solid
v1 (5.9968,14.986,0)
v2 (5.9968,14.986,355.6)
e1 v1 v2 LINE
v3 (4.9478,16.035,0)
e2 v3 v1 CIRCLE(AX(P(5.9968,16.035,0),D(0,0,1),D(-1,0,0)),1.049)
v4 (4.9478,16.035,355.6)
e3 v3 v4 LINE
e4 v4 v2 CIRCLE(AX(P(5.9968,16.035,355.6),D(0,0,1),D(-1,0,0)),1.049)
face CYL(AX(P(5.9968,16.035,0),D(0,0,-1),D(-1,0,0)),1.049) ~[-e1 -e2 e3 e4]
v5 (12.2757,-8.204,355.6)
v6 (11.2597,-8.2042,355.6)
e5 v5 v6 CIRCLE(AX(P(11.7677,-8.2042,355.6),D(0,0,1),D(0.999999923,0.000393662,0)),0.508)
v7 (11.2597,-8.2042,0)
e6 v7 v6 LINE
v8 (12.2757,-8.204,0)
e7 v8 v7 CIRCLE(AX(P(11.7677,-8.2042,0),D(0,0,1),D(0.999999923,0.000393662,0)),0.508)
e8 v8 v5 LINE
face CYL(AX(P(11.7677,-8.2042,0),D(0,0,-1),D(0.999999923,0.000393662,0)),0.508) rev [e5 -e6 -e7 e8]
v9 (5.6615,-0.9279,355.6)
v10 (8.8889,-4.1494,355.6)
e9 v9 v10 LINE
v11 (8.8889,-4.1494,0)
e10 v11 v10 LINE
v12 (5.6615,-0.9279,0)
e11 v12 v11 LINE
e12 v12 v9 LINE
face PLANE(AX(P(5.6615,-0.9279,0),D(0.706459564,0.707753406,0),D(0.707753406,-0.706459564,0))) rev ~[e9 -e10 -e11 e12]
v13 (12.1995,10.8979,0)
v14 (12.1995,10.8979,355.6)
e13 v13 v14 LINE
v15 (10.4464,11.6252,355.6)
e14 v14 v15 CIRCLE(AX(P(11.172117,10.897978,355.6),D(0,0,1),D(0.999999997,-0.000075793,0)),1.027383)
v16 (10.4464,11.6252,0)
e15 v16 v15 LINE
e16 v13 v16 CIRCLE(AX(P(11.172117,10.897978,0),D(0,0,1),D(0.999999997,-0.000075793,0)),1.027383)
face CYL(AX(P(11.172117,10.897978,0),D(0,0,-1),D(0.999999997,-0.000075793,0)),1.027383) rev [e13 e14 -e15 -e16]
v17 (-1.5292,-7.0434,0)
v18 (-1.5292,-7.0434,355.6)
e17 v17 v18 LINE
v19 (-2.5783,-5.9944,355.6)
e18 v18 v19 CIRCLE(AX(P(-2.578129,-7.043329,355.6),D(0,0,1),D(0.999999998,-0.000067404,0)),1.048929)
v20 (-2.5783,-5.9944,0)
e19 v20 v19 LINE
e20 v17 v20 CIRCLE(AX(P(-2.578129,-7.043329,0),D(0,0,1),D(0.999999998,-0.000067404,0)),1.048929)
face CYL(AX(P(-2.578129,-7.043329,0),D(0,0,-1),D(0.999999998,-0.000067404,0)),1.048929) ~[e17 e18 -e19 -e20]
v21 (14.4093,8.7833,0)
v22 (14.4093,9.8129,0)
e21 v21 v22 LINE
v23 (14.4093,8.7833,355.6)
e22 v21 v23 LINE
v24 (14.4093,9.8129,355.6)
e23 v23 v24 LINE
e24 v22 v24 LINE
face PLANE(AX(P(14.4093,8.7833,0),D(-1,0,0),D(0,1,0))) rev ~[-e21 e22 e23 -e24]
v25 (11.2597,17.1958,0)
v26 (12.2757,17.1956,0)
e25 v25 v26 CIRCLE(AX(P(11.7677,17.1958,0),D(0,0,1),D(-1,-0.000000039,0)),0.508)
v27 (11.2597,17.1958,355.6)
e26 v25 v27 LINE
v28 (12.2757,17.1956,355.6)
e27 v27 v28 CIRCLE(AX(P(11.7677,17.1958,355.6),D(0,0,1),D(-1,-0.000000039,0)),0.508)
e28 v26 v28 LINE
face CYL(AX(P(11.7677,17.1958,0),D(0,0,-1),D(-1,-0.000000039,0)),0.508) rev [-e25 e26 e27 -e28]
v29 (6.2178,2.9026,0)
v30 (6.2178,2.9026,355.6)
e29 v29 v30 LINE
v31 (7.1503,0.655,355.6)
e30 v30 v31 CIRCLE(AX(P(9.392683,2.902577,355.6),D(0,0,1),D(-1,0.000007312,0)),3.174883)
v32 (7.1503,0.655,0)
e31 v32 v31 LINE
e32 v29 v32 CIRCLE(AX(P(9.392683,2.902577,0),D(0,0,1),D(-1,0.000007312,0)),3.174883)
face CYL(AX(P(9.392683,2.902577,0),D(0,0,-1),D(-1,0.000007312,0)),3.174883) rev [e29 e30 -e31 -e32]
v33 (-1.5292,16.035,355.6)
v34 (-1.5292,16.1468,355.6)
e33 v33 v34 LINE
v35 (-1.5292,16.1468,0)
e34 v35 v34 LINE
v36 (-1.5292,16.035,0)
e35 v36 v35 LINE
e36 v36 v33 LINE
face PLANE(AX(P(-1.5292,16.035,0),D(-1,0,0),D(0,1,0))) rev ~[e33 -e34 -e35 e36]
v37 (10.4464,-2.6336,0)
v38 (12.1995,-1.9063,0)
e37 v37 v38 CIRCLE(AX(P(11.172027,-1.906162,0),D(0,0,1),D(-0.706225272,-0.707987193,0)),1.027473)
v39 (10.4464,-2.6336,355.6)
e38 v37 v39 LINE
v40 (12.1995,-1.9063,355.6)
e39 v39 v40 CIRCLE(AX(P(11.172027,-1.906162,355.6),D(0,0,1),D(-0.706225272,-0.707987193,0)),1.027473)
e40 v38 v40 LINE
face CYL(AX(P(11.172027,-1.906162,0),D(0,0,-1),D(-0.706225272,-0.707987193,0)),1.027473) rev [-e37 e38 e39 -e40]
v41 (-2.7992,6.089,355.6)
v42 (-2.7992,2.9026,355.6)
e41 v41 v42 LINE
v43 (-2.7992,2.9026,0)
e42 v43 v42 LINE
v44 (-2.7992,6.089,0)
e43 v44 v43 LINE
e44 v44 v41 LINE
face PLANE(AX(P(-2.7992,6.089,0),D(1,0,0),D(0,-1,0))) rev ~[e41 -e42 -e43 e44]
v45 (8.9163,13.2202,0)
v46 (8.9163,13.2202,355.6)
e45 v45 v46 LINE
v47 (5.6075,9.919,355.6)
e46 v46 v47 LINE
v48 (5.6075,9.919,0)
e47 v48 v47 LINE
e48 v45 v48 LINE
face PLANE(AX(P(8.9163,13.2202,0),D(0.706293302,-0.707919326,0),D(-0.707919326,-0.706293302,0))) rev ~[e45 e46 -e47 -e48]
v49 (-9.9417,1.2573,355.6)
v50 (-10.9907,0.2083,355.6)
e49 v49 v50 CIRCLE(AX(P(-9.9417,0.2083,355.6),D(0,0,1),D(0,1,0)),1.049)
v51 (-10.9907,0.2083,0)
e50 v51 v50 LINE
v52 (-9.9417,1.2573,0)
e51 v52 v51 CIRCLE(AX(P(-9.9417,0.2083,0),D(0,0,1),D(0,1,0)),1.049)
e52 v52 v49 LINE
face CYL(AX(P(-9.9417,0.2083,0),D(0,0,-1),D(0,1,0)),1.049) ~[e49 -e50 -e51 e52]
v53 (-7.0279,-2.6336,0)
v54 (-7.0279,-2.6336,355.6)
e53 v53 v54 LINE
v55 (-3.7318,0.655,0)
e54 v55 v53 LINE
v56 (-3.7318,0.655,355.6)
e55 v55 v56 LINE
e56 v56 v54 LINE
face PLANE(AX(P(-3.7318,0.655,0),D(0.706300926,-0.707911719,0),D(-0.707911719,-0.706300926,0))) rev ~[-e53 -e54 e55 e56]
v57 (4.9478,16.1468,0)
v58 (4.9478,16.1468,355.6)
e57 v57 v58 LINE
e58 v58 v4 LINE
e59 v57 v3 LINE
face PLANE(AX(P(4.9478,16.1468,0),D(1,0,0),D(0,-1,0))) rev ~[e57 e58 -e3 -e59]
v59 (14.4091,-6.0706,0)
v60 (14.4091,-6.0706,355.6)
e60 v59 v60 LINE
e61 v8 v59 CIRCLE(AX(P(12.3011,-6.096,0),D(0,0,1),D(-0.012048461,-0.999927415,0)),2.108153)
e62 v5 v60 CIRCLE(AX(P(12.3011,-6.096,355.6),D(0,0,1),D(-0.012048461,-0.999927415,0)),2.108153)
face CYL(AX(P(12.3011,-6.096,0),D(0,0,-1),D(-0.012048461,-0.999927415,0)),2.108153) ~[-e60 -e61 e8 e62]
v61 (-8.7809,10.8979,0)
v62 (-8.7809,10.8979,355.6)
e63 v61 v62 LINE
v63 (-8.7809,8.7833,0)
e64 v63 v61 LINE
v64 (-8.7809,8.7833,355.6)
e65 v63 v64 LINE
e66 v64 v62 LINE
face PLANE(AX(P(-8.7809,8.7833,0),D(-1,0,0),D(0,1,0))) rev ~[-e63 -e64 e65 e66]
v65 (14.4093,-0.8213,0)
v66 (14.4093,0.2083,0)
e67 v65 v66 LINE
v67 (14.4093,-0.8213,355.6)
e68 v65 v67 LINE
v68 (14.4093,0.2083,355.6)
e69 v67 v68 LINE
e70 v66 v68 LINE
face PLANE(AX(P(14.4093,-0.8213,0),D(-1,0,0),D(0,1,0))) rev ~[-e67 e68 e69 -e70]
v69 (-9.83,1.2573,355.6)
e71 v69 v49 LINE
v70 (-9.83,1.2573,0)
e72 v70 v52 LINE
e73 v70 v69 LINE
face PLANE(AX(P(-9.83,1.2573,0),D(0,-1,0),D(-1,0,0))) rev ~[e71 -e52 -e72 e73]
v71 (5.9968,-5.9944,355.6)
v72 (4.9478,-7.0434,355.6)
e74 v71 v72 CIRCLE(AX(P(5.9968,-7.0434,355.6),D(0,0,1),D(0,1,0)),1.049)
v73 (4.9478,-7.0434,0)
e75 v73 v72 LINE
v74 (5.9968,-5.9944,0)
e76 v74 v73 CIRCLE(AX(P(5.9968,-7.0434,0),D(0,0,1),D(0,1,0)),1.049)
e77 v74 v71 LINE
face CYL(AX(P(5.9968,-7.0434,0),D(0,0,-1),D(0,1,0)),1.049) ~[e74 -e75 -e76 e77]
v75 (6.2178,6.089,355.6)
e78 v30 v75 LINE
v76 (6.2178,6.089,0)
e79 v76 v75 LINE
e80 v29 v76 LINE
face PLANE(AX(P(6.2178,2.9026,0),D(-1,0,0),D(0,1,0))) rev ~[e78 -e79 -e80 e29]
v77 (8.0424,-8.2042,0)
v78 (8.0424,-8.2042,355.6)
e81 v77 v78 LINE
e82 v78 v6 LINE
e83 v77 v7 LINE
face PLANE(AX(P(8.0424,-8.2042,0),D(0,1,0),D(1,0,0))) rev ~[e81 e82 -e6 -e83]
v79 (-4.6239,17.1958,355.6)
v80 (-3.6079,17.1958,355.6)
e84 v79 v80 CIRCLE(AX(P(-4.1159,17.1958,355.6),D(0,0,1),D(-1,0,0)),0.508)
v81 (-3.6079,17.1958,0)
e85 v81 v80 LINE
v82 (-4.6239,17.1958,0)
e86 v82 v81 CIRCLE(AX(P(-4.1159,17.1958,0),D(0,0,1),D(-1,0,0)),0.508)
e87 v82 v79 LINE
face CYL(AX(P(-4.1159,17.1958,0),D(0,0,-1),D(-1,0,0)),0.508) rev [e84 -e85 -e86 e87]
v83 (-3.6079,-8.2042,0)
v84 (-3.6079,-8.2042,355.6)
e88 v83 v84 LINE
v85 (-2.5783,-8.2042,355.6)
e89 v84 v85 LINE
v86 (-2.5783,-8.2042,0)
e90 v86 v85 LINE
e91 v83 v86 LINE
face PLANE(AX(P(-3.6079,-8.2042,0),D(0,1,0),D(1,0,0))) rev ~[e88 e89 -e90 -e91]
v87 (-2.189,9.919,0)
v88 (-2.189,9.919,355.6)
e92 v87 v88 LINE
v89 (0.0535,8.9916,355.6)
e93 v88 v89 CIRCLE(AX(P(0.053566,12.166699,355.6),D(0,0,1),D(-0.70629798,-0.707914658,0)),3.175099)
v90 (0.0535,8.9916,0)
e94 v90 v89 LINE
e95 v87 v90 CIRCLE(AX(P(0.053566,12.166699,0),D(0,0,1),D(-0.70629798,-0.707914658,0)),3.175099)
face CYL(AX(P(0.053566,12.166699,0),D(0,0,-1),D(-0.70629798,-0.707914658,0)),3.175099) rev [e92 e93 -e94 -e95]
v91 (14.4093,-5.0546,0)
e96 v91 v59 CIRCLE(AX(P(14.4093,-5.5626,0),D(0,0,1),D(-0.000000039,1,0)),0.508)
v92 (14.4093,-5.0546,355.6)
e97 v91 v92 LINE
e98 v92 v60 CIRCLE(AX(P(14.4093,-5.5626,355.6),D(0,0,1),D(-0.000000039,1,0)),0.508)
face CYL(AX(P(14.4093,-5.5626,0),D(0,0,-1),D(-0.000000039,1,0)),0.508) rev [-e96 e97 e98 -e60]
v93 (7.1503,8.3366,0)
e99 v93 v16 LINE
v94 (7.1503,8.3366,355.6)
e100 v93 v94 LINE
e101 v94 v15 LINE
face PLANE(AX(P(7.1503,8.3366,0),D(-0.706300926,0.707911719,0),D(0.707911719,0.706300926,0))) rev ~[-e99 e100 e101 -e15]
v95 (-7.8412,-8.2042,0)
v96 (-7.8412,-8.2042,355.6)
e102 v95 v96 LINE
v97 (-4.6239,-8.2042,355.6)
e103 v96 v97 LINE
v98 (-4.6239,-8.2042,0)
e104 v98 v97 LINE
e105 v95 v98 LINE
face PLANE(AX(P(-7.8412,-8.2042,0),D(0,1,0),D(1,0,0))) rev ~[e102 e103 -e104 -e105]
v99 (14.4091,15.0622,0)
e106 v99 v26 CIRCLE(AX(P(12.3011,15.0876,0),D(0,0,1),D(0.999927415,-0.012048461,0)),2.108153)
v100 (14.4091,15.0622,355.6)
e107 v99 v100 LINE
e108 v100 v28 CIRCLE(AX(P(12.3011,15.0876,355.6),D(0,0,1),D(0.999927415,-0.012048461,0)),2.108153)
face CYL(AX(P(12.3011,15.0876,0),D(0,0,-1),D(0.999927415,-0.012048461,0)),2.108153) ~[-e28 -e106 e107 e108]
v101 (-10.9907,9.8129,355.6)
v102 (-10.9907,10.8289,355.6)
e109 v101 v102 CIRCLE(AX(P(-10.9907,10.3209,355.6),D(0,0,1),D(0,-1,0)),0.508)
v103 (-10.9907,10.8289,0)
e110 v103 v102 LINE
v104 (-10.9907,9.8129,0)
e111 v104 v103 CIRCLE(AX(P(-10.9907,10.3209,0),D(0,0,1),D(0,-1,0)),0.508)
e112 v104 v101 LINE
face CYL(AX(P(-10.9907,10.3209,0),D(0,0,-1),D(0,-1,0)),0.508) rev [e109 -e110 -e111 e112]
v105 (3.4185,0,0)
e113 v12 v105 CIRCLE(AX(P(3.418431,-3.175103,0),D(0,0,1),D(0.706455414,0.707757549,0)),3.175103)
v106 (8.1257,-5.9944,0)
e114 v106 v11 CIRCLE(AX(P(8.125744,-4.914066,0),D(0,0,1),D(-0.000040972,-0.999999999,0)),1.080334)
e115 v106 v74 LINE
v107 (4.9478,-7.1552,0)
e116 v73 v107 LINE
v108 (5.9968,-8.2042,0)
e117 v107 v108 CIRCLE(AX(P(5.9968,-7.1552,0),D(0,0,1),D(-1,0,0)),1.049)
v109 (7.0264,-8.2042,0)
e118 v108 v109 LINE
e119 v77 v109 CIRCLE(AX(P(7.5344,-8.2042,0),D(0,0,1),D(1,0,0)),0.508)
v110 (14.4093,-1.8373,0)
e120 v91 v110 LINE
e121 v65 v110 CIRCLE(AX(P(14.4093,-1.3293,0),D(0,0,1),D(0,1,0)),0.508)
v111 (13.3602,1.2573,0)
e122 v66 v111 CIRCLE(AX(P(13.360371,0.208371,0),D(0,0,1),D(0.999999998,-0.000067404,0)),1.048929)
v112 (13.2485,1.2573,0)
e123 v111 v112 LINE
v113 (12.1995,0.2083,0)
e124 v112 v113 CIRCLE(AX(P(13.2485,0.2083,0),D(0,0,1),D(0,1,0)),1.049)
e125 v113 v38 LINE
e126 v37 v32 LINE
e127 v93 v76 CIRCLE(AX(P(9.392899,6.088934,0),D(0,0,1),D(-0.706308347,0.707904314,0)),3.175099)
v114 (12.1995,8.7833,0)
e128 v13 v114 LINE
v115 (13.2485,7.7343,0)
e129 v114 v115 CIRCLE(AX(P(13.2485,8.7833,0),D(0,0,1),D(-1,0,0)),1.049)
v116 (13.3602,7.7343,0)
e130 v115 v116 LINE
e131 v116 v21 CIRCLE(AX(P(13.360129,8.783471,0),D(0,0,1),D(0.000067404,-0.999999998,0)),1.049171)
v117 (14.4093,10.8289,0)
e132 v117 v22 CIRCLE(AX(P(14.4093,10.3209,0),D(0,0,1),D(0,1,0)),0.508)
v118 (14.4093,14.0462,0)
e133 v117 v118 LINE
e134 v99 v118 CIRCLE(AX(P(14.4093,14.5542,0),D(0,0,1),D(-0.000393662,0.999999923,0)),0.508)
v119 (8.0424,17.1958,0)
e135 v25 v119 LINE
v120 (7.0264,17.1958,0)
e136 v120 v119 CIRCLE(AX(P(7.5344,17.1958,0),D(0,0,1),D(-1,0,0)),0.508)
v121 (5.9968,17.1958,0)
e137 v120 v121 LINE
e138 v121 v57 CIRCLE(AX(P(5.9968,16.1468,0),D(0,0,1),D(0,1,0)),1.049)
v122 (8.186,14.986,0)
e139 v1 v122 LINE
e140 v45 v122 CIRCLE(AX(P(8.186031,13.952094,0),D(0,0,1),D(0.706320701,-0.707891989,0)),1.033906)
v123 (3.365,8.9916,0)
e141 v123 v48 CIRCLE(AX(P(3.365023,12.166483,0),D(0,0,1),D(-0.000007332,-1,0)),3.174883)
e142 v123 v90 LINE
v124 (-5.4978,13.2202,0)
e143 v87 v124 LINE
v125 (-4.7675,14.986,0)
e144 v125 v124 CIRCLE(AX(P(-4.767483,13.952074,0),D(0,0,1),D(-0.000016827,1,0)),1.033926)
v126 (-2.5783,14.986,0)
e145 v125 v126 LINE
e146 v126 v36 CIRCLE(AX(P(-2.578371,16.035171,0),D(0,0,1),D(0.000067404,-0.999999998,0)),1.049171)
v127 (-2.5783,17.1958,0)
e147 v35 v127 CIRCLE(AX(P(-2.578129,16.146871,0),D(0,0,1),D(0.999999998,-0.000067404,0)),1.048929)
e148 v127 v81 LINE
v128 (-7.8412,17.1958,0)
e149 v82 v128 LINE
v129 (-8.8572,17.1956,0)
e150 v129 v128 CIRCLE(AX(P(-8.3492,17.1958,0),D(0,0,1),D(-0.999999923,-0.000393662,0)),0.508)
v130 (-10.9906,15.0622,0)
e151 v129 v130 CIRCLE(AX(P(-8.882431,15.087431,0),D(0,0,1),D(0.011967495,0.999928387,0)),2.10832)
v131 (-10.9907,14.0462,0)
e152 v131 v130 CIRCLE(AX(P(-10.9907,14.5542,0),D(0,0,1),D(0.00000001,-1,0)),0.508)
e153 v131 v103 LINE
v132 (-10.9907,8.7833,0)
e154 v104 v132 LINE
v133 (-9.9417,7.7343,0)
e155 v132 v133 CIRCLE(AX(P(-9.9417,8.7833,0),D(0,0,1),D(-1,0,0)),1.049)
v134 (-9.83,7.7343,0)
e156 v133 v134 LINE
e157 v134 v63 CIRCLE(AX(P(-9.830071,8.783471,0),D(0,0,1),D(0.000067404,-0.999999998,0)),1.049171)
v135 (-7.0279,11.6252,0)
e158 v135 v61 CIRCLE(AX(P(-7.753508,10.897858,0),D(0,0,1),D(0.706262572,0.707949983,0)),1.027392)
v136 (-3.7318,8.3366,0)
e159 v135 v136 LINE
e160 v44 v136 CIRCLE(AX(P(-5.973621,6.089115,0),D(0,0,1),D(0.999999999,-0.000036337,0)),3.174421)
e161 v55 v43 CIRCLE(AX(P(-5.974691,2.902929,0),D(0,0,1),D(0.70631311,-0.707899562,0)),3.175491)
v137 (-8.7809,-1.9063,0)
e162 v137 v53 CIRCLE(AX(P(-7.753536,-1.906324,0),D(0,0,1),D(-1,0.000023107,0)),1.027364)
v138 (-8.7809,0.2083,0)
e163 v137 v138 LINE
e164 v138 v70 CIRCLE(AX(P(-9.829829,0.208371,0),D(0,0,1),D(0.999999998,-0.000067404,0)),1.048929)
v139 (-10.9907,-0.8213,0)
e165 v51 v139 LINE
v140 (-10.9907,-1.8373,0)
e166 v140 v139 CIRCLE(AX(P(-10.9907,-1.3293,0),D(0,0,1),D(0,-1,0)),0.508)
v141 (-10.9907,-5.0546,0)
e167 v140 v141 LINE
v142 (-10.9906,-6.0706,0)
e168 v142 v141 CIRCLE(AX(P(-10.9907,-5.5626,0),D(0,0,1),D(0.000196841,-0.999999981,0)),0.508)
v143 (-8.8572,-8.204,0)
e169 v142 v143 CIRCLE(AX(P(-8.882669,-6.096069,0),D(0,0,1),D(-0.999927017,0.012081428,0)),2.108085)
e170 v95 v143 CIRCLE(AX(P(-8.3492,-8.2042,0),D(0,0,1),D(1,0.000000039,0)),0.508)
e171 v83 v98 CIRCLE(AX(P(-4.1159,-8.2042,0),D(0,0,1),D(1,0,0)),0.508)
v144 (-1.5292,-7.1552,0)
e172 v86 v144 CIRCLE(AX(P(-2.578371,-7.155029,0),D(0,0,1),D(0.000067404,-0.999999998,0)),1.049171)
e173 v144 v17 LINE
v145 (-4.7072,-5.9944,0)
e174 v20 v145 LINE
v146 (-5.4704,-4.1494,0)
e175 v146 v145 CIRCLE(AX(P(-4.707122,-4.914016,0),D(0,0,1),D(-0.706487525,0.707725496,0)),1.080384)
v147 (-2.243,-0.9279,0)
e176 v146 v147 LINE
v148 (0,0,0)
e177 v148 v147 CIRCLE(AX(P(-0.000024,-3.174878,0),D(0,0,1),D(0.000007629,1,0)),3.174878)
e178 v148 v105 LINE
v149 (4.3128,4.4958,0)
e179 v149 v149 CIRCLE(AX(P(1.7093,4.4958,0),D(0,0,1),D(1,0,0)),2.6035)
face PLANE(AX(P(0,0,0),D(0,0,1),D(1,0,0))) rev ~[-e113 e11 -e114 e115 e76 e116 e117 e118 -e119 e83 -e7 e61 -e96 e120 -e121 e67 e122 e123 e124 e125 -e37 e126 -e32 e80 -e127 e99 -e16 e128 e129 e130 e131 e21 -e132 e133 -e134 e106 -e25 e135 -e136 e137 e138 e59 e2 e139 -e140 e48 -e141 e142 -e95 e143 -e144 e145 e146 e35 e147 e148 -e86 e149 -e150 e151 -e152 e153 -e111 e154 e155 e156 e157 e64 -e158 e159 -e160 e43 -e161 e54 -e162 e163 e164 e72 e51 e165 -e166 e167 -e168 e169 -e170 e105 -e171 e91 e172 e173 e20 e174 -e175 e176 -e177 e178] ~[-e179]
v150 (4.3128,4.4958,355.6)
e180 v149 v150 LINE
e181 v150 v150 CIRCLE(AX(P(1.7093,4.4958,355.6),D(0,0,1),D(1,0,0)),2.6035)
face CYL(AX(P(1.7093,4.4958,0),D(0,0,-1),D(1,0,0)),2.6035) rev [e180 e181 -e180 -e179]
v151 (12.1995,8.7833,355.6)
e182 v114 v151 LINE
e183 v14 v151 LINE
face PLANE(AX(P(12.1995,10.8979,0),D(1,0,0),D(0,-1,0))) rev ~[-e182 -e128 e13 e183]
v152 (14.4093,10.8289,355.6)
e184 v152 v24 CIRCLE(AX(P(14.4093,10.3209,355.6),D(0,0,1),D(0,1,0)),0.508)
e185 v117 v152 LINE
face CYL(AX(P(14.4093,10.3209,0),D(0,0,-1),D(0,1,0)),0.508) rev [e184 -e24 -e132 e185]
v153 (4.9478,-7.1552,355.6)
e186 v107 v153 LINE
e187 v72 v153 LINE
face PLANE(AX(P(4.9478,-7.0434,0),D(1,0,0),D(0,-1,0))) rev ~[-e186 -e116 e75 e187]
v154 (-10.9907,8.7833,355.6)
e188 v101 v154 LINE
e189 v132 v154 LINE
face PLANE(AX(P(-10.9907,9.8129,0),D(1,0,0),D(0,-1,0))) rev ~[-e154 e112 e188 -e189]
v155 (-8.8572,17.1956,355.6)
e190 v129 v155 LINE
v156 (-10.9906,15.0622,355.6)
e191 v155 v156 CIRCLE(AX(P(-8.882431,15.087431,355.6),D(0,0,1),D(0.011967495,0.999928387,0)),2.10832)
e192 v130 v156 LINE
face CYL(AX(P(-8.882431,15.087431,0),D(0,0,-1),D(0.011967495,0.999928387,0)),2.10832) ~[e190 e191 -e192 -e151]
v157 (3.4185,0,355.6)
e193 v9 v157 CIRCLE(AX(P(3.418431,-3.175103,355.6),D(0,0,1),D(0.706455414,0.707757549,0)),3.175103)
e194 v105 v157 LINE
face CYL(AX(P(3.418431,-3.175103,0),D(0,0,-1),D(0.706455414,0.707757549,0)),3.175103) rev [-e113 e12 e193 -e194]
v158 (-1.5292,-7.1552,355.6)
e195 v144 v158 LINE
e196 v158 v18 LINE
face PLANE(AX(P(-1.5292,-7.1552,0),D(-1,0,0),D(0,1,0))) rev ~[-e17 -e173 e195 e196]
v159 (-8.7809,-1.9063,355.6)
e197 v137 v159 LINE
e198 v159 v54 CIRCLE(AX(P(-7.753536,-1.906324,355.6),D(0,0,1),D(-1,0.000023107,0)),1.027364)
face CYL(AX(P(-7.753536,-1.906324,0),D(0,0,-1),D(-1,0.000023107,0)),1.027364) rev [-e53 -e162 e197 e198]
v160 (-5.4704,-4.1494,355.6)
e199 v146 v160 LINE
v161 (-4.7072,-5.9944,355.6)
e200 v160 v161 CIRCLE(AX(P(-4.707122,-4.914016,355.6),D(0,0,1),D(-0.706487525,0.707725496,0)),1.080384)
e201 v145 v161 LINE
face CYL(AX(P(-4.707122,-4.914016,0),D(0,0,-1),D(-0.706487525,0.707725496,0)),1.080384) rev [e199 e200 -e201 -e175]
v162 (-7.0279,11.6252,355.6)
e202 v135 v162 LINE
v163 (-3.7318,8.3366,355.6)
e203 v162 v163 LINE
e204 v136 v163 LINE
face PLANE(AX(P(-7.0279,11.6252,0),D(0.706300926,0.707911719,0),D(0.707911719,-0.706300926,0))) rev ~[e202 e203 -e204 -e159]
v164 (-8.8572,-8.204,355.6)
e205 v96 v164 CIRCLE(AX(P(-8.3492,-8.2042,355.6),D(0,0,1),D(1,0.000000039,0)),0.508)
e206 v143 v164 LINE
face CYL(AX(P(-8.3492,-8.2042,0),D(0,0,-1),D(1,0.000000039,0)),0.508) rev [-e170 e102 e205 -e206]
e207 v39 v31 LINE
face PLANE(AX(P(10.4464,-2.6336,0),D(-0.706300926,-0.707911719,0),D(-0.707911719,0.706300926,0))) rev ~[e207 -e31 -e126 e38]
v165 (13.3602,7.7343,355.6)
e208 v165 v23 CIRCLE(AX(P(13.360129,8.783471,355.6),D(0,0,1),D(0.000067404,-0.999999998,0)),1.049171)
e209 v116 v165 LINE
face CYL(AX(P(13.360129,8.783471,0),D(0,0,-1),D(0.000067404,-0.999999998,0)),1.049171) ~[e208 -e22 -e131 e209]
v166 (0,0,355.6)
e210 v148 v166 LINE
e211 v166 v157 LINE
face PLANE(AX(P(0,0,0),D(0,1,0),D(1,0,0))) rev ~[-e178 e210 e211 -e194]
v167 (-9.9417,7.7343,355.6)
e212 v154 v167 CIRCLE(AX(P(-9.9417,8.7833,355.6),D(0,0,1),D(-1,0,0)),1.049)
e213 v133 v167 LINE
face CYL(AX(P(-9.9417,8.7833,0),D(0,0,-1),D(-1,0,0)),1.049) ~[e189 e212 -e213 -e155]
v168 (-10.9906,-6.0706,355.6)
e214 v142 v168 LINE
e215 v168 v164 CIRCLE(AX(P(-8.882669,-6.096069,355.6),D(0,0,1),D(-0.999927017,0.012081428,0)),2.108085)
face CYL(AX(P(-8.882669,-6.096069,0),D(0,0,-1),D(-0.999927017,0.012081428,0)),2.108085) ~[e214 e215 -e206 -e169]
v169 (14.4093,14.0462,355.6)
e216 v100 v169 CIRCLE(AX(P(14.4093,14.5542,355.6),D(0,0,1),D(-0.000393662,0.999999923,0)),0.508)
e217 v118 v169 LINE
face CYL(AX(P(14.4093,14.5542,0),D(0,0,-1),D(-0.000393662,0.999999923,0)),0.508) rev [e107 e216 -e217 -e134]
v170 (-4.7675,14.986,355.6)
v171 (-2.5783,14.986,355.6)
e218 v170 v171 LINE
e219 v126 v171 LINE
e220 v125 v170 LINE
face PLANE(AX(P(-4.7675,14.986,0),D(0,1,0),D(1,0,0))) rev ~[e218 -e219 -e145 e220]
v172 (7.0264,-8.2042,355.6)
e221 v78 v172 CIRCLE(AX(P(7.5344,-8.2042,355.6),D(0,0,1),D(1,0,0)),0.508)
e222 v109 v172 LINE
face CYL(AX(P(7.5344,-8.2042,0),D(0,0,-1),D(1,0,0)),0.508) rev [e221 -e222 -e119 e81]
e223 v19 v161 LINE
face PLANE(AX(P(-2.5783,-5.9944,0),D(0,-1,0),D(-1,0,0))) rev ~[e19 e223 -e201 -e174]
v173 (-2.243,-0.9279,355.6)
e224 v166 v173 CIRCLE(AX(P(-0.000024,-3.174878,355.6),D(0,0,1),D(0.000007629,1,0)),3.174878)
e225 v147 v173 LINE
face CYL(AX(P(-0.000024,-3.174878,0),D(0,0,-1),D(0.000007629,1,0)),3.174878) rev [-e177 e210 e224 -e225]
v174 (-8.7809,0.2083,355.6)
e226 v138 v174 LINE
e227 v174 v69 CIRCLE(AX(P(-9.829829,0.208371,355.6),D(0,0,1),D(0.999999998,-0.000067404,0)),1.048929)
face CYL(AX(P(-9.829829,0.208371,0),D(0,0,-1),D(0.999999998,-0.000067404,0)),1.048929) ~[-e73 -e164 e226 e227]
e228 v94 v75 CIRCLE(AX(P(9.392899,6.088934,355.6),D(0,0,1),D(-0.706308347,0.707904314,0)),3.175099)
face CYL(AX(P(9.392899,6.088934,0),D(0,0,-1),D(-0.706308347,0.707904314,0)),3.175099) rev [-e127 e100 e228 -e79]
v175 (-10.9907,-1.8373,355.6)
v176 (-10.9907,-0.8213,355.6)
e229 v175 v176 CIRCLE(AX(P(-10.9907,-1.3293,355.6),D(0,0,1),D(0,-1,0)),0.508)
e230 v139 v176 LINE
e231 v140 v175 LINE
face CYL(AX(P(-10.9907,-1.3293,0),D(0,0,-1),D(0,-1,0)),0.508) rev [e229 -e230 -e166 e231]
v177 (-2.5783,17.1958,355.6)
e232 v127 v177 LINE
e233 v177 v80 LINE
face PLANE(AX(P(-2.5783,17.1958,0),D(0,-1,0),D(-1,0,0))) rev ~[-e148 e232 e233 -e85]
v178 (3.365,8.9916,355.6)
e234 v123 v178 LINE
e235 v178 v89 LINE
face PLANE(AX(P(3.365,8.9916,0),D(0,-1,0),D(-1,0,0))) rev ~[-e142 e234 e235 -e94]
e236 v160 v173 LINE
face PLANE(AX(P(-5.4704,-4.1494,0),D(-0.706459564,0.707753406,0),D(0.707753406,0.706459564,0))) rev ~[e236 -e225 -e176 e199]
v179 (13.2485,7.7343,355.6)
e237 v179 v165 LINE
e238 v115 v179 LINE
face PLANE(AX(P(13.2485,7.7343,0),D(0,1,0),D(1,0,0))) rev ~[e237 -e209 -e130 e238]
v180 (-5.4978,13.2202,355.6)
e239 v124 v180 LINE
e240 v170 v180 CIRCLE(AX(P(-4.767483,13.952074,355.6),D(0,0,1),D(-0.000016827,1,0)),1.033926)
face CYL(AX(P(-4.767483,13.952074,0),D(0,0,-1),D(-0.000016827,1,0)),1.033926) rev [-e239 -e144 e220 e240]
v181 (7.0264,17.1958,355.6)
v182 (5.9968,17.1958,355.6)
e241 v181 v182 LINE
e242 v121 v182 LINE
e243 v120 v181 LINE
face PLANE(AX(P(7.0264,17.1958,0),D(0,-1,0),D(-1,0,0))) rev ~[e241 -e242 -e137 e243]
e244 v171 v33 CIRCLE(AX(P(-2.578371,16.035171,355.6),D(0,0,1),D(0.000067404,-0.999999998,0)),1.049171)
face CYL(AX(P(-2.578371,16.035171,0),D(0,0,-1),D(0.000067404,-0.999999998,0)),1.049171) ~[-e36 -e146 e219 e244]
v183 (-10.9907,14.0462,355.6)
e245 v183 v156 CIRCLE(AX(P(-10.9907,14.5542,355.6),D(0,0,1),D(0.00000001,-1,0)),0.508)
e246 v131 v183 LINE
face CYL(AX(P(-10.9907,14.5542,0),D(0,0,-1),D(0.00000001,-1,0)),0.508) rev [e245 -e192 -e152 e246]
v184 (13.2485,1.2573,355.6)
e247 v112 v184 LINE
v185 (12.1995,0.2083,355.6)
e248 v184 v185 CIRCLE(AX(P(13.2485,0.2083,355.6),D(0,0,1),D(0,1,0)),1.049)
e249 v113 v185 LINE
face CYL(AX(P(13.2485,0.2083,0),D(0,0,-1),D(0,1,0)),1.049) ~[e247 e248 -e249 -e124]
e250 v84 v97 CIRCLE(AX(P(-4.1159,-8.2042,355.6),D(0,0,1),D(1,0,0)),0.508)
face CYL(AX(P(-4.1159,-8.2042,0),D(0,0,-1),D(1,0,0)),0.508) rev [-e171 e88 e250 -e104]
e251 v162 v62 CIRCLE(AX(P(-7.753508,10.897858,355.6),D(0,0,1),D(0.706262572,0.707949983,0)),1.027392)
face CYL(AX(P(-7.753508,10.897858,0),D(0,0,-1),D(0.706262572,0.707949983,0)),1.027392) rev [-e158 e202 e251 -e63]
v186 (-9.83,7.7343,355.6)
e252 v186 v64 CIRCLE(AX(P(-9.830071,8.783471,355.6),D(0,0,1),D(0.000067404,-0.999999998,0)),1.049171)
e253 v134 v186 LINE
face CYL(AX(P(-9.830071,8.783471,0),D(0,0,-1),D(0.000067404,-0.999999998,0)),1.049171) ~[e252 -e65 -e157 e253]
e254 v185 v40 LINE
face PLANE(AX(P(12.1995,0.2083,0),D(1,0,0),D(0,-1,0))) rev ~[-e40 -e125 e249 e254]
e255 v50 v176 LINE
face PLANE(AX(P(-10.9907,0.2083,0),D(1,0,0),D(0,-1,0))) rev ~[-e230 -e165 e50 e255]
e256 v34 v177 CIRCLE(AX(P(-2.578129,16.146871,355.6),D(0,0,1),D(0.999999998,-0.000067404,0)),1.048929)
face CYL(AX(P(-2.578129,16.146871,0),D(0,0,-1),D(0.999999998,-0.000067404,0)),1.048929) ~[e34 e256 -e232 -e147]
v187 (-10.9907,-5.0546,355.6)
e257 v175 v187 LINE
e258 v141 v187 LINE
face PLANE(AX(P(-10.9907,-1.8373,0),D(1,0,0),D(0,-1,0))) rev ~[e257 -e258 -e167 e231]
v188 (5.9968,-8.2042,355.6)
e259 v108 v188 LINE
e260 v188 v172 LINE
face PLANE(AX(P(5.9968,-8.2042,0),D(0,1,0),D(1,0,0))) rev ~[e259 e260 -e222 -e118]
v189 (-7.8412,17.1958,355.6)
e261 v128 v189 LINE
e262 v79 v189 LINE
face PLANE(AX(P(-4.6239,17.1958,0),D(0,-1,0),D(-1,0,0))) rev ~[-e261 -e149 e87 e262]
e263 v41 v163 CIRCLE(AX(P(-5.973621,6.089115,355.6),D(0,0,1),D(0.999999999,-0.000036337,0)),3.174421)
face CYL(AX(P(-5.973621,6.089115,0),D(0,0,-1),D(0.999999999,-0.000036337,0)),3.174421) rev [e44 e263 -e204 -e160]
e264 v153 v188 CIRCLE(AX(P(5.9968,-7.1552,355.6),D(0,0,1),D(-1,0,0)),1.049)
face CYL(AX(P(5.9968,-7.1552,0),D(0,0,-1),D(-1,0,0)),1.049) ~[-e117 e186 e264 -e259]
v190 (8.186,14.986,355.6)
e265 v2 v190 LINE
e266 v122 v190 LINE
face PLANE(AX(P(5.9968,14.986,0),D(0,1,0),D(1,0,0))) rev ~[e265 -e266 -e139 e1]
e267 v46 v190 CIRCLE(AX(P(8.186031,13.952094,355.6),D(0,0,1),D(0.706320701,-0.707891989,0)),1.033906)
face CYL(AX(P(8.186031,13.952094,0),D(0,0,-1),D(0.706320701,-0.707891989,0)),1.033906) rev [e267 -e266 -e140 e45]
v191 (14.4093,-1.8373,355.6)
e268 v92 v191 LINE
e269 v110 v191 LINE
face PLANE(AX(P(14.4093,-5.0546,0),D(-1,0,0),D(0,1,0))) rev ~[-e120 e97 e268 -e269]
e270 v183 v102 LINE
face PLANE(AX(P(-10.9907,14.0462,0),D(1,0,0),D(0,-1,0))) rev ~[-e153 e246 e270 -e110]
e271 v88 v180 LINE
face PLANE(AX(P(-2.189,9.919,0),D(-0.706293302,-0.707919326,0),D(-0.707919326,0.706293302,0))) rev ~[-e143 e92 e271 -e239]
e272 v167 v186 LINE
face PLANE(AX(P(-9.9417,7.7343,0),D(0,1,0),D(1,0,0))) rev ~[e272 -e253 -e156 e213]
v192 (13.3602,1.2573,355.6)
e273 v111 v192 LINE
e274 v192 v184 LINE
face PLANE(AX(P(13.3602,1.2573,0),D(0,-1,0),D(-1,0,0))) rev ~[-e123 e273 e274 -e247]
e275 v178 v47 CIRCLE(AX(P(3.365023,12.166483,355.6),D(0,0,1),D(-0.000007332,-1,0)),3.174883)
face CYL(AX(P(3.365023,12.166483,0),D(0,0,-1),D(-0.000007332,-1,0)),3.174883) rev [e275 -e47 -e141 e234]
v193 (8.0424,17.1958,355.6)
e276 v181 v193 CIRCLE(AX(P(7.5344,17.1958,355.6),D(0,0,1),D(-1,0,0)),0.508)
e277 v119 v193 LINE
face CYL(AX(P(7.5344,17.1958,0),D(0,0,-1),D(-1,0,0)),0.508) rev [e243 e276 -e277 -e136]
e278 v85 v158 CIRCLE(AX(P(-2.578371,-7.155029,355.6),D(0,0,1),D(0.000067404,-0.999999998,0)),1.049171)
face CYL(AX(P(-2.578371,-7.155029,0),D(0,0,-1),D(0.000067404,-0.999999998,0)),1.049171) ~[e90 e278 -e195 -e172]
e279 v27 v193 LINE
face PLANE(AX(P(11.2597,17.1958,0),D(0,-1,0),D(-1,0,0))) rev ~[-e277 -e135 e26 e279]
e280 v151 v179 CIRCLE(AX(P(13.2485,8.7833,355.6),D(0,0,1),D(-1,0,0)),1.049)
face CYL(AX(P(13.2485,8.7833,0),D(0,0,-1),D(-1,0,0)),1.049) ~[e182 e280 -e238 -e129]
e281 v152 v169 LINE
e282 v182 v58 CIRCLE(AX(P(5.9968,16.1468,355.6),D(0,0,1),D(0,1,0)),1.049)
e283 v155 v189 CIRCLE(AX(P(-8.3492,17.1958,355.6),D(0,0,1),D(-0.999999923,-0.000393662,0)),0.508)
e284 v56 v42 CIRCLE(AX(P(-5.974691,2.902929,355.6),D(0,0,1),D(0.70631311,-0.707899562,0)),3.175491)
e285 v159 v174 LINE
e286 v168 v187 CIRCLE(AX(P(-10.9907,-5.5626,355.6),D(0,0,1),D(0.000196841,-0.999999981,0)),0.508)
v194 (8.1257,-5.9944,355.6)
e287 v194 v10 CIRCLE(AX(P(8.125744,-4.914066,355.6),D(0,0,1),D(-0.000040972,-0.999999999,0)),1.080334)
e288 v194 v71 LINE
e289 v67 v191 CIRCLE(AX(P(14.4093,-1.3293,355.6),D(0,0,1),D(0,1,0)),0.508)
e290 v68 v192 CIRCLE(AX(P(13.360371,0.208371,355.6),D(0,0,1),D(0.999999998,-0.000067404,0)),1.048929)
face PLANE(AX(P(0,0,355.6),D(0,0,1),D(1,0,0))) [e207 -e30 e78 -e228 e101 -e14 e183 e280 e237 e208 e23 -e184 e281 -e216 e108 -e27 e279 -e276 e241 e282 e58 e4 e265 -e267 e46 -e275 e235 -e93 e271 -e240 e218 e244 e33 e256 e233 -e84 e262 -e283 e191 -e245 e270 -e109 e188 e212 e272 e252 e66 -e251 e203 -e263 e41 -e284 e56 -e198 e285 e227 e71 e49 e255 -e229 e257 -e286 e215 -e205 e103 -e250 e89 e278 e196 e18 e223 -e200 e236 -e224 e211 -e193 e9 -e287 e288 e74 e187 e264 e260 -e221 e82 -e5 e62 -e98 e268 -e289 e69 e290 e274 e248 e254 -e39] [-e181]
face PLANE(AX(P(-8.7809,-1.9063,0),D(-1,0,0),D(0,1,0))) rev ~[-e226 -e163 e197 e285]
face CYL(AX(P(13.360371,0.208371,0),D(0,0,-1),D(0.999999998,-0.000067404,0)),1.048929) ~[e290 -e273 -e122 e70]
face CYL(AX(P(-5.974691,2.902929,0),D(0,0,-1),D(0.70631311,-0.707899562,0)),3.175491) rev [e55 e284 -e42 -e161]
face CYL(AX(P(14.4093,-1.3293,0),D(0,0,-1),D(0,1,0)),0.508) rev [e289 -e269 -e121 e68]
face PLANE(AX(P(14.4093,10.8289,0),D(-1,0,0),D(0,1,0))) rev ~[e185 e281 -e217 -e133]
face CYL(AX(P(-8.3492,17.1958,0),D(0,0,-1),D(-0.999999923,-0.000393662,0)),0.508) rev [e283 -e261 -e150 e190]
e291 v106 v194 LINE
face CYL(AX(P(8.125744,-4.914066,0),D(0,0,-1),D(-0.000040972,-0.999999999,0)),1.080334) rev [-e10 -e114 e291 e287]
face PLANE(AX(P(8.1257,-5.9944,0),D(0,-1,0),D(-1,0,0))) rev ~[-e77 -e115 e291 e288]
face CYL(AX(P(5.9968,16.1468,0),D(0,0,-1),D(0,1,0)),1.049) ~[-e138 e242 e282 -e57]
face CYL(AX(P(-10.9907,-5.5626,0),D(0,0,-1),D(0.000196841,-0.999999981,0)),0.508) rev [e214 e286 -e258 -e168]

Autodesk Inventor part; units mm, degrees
ref_plane "YZ Plane" through (0, 0, 0) normal (1, 0, 0) x (0, 1, 0)
ref_plane "XZ Plane" through (0, 0, 0) normal (0, 1, 0) x (-1, 0, 0)
ref_plane "XY Plane" through (0, 0, 0) normal (0, 0, 1) x (1, 0, 0)
sketch "Sketch1" plane through (0, 0, 0) normal (0, 0, 1) x (1, 0, 0)
  arc A0 (-5.4704, -4.1494) -> (-4.7072, -5.9944) centre (-4.7072, -4.914) ccw
  line L0 (-5.4704, -4.1494) -> (-2.243, -0.9279)
  arc A1 (0, 0) -> (-2.243, -0.9279) centre (0, -3.175) ccw
  line L1 (0, 0) -> (3.4185, 0)
  arc A2 (5.6615, -0.9279) -> (3.4185, 0) centre (3.4185, -3.175) ccw
  line L2 (5.6615, -0.9279) -> (8.8889, -4.1494)
  arc A3 (8.1257, -5.9944) -> (8.8889, -4.1494) centre (8.1257, -4.914) ccw
  line L3 (8.1257, -5.9944) -> (5.9968, -5.9944)
  arc A4 (5.9968, -5.9944) -> (4.9478, -7.0434) centre (5.9968, -7.0434) ccw
  line L4 (4.9478, -7.0434) -> (4.9478, -7.1552)
  arc A5 (4.9478, -7.1552) -> (5.9968, -8.2042) centre (5.9968, -7.1552) ccw
  line L5 (5.9968, -8.2042) -> (7.0264, -8.2042)
  arc A6 (8.0424, -8.2042) -> (7.0264, -8.2042) centre (7.5344, -8.2042) ccw
  line L6 (8.0424, -8.2042) -> (11.2597, -8.2042)
  arc A7 (12.2757, -8.204) -> (11.2597, -8.2042) centre (11.7677, -8.2042) ccw
  arc A8 (12.2757, -8.204) -> (14.4091, -6.0706) centre (12.3011, -6.096) ccw
  arc A9 (14.4093, -5.0546) -> (14.4091, -6.0706) centre (14.4093, -5.5626) ccw
  line L7 (14.4093, -5.0546) -> (14.4093, -1.8373)
  arc A10 (14.4093, -0.8213) -> (14.4093, -1.8373) centre (14.4093, -1.3293) ccw
  line L8 (14.4093, -0.8213) -> (14.4093, 0.2083)
  arc A11 (14.4093, 0.2083) -> (13.3602, 1.2573) centre (13.3602, 0.2083) ccw
  line L9 (13.3602, 1.2573) -> (13.2485, 1.2573)
  arc A12 (13.2485, 1.2573) -> (12.1995, 0.2083) centre (13.2485, 0.2083) ccw
  line L10 (12.1995, 0.2083) -> (12.1995, -1.9063)
  arc A13 (10.4464, -2.6336) -> (12.1995, -1.9063) centre (11.172, -1.9063) ccw
  line L11 (10.4464, -2.6336) -> (7.1503, 0.655)
  arc A14 (6.2178, 2.9026) -> (7.1503, 0.655) centre (9.3928, 2.9026) ccw
  line L12 (6.2178, 2.9026) -> (6.2178, 6.089)
  arc A15 (7.1503, 8.3366) -> (6.2178, 6.089) centre (9.3928, 6.089) ccw
  line L13 (7.1503, 8.3366) -> (10.4464, 11.6252)
  arc A16 (12.1995, 10.8979) -> (10.4464, 11.6252) centre (11.172, 10.8979) ccw
  line L14 (12.1995, 10.8979) -> (12.1995, 8.7833)
  arc A17 (12.1995, 8.7833) -> (13.2485, 7.7343) centre (13.2485, 8.7833) ccw
  line L15 (13.2485, 7.7343) -> (13.3602, 7.7343)
  arc A18 (13.3602, 7.7343) -> (14.4093, 8.7833) centre (13.3602, 8.7833) ccw
  line L16 (14.4093, 8.7833) -> (14.4093, 9.8129)
  arc A19 (14.4093, 10.8289) -> (14.4093, 9.8129) centre (14.4093, 10.3209) ccw
  line L17 (14.4093, 10.8289) -> (14.4093, 14.0462)
  arc A20 (14.4091, 15.0622) -> (14.4093, 14.0462) centre (14.4093, 14.5542) ccw
  arc A21 (14.4091, 15.0622) -> (12.2757, 17.1956) centre (12.3011, 15.0876) ccw
  arc A22 (11.2597, 17.1958) -> (12.2757, 17.1956) centre (11.7677, 17.1958) ccw
  line L18 (11.2597, 17.1958) -> (8.0424, 17.1958)
  arc A23 (7.0264, 17.1958) -> (8.0424, 17.1958) centre (7.5344, 17.1958) ccw
  line L19 (7.0264, 17.1958) -> (5.9968, 17.1958)
  arc A24 (5.9968, 17.1958) -> (4.9478, 16.1468) centre (5.9968, 16.1468) ccw
  line L20 (4.9478, 16.1468) -> (4.9478, 16.035)
  arc A25 (4.9478, 16.035) -> (5.9968, 14.986) centre (5.9968, 16.035) ccw
  line L21 (5.9968, 14.986) -> (8.186, 14.986)
  arc A26 (8.9163, 13.2202) -> (8.186, 14.986) centre (8.186, 13.9521) ccw
  line L22 (8.9163, 13.2202) -> (5.6075, 9.919)
  arc A27 (3.365, 8.9916) -> (5.6075, 9.919) centre (3.365, 12.1666) ccw
  line L23 (3.365, 8.9916) -> (0.0535, 8.9916)
  arc A28 (-2.189, 9.919) -> (0.0535, 8.9916) centre (0.0535, 12.1666) ccw
  line L24 (-2.189, 9.919) -> (-5.4978, 13.2202)
  arc A29 (-4.7675, 14.986) -> (-5.4978, 13.2202) centre (-4.7675, 13.9521) ccw
  line L25 (-4.7675, 14.986) -> (-2.5783, 14.986)
  arc A30 (-2.5783, 14.986) -> (-1.5292, 16.035) centre (-2.5783, 16.035) ccw
  line L26 (-1.5292, 16.035) -> (-1.5292, 16.1468)
  arc A31 (-1.5292, 16.1468) -> (-2.5783, 17.1958) centre (-2.5783, 16.1468) ccw
  line L27 (-2.5783, 17.1958) -> (-3.6079, 17.1958)
  arc A32 (-4.6239, 17.1958) -> (-3.6079, 17.1958) centre (-4.1159, 17.1958) ccw
  line L28 (-4.6239, 17.1958) -> (-7.8412, 17.1958)
  arc A33 (-8.8572, 17.1956) -> (-7.8412, 17.1958) centre (-8.3492, 17.1958) ccw
  arc A34 (-8.8572, 17.1956) -> (-10.9906, 15.0622) centre (-8.8825, 15.0876) ccw
  arc A35 (-10.9907, 14.0462) -> (-10.9906, 15.0622) centre (-10.9907, 14.5542) ccw
  line L29 (-10.9907, 14.0462) -> (-10.9907, 10.8289)
  arc A36 (-10.9907, 9.8129) -> (-10.9907, 10.8289) centre (-10.9907, 10.3209) ccw
  line L30 (-10.9907, 9.8129) -> (-10.9907, 8.7833)
  arc A37 (-10.9907, 8.7833) -> (-9.9417, 7.7343) centre (-9.9417, 8.7833) ccw
  line L31 (-9.9417, 7.7343) -> (-9.83, 7.7343)
  arc A38 (-9.83, 7.7343) -> (-8.7809, 8.7833) centre (-9.83, 8.7833) ccw
  line L32 (-8.7809, 8.7833) -> (-8.7809, 10.8979)
  arc A39 (-7.0279, 11.6252) -> (-8.7809, 10.8979) centre (-7.7535, 10.8979) ccw
  line L33 (-7.0279, 11.6252) -> (-3.7318, 8.3366)
  arc A40 (-2.7992, 6.089) -> (-3.7318, 8.3366) centre (-5.9742, 6.089) ccw
  line L34 (-2.7992, 6.089) -> (-2.7992, 2.9026)
  arc A41 (-3.7318, 0.655) -> (-2.7992, 2.9026) centre (-5.9742, 2.9026) ccw
  line L35 (-3.7318, 0.655) -> (-7.0279, -2.6336)
  arc A42 (-8.7809, -1.9063) -> (-7.0279, -2.6336) centre (-7.7535, -1.9063) ccw
  line L36 (-8.7809, -1.9063) -> (-8.7809, 0.2083)
  arc A43 (-8.7809, 0.2083) -> (-9.83, 1.2573) centre (-9.83, 0.2083) ccw
  line L37 (-9.83, 1.2573) -> (-9.9417, 1.2573)
  arc A44 (-9.9417, 1.2573) -> (-10.9907, 0.2083) centre (-9.9417, 0.2083) ccw
  line L38 (-10.9907, 0.2083) -> (-10.9907, -0.8213)
  arc A45 (-10.9907, -1.8373) -> (-10.9907, -0.8213) centre (-10.9907, -1.3293) ccw
  line L39 (-10.9907, -1.8373) -> (-10.9907, -5.0546)
  arc A46 (-10.9906, -6.0706) -> (-10.9907, -5.0546) centre (-10.9907, -5.5626) ccw
  arc A47 (-10.9906, -6.0706) -> (-8.8572, -8.204) centre (-8.8825, -6.096) ccw
  arc A48 (-7.8412, -8.2042) -> (-8.8572, -8.204) centre (-8.3492, -8.2042) ccw
  line L40 (-7.8412, -8.2042) -> (-4.6239, -8.2042)
  arc A49 (-3.6079, -8.2042) -> (-4.6239, -8.2042) centre (-4.1159, -8.2042) ccw
  line L41 (-3.6079, -8.2042) -> (-2.5783, -8.2042)
  arc A50 (-2.5783, -8.2042) -> (-1.5292, -7.1552) centre (-2.5783, -7.1552) ccw
  line L42 (-1.5292, -7.1552) -> (-1.5292, -7.0434)
  arc A51 (-1.5292, -7.0434) -> (-2.5783, -5.9944) centre (-2.5783, -7.0434) ccw
  line L43 (-2.5783, -5.9944) -> (-4.7072, -5.9944)
  circle A52 centre (1.7093, 4.4958) radius 2.6035
extrude "Extrusion1" add sketch "Sketch1" along normal blind 355.6
properties part number "14 in 1x1 T slot" material "Steel, Alloy"
